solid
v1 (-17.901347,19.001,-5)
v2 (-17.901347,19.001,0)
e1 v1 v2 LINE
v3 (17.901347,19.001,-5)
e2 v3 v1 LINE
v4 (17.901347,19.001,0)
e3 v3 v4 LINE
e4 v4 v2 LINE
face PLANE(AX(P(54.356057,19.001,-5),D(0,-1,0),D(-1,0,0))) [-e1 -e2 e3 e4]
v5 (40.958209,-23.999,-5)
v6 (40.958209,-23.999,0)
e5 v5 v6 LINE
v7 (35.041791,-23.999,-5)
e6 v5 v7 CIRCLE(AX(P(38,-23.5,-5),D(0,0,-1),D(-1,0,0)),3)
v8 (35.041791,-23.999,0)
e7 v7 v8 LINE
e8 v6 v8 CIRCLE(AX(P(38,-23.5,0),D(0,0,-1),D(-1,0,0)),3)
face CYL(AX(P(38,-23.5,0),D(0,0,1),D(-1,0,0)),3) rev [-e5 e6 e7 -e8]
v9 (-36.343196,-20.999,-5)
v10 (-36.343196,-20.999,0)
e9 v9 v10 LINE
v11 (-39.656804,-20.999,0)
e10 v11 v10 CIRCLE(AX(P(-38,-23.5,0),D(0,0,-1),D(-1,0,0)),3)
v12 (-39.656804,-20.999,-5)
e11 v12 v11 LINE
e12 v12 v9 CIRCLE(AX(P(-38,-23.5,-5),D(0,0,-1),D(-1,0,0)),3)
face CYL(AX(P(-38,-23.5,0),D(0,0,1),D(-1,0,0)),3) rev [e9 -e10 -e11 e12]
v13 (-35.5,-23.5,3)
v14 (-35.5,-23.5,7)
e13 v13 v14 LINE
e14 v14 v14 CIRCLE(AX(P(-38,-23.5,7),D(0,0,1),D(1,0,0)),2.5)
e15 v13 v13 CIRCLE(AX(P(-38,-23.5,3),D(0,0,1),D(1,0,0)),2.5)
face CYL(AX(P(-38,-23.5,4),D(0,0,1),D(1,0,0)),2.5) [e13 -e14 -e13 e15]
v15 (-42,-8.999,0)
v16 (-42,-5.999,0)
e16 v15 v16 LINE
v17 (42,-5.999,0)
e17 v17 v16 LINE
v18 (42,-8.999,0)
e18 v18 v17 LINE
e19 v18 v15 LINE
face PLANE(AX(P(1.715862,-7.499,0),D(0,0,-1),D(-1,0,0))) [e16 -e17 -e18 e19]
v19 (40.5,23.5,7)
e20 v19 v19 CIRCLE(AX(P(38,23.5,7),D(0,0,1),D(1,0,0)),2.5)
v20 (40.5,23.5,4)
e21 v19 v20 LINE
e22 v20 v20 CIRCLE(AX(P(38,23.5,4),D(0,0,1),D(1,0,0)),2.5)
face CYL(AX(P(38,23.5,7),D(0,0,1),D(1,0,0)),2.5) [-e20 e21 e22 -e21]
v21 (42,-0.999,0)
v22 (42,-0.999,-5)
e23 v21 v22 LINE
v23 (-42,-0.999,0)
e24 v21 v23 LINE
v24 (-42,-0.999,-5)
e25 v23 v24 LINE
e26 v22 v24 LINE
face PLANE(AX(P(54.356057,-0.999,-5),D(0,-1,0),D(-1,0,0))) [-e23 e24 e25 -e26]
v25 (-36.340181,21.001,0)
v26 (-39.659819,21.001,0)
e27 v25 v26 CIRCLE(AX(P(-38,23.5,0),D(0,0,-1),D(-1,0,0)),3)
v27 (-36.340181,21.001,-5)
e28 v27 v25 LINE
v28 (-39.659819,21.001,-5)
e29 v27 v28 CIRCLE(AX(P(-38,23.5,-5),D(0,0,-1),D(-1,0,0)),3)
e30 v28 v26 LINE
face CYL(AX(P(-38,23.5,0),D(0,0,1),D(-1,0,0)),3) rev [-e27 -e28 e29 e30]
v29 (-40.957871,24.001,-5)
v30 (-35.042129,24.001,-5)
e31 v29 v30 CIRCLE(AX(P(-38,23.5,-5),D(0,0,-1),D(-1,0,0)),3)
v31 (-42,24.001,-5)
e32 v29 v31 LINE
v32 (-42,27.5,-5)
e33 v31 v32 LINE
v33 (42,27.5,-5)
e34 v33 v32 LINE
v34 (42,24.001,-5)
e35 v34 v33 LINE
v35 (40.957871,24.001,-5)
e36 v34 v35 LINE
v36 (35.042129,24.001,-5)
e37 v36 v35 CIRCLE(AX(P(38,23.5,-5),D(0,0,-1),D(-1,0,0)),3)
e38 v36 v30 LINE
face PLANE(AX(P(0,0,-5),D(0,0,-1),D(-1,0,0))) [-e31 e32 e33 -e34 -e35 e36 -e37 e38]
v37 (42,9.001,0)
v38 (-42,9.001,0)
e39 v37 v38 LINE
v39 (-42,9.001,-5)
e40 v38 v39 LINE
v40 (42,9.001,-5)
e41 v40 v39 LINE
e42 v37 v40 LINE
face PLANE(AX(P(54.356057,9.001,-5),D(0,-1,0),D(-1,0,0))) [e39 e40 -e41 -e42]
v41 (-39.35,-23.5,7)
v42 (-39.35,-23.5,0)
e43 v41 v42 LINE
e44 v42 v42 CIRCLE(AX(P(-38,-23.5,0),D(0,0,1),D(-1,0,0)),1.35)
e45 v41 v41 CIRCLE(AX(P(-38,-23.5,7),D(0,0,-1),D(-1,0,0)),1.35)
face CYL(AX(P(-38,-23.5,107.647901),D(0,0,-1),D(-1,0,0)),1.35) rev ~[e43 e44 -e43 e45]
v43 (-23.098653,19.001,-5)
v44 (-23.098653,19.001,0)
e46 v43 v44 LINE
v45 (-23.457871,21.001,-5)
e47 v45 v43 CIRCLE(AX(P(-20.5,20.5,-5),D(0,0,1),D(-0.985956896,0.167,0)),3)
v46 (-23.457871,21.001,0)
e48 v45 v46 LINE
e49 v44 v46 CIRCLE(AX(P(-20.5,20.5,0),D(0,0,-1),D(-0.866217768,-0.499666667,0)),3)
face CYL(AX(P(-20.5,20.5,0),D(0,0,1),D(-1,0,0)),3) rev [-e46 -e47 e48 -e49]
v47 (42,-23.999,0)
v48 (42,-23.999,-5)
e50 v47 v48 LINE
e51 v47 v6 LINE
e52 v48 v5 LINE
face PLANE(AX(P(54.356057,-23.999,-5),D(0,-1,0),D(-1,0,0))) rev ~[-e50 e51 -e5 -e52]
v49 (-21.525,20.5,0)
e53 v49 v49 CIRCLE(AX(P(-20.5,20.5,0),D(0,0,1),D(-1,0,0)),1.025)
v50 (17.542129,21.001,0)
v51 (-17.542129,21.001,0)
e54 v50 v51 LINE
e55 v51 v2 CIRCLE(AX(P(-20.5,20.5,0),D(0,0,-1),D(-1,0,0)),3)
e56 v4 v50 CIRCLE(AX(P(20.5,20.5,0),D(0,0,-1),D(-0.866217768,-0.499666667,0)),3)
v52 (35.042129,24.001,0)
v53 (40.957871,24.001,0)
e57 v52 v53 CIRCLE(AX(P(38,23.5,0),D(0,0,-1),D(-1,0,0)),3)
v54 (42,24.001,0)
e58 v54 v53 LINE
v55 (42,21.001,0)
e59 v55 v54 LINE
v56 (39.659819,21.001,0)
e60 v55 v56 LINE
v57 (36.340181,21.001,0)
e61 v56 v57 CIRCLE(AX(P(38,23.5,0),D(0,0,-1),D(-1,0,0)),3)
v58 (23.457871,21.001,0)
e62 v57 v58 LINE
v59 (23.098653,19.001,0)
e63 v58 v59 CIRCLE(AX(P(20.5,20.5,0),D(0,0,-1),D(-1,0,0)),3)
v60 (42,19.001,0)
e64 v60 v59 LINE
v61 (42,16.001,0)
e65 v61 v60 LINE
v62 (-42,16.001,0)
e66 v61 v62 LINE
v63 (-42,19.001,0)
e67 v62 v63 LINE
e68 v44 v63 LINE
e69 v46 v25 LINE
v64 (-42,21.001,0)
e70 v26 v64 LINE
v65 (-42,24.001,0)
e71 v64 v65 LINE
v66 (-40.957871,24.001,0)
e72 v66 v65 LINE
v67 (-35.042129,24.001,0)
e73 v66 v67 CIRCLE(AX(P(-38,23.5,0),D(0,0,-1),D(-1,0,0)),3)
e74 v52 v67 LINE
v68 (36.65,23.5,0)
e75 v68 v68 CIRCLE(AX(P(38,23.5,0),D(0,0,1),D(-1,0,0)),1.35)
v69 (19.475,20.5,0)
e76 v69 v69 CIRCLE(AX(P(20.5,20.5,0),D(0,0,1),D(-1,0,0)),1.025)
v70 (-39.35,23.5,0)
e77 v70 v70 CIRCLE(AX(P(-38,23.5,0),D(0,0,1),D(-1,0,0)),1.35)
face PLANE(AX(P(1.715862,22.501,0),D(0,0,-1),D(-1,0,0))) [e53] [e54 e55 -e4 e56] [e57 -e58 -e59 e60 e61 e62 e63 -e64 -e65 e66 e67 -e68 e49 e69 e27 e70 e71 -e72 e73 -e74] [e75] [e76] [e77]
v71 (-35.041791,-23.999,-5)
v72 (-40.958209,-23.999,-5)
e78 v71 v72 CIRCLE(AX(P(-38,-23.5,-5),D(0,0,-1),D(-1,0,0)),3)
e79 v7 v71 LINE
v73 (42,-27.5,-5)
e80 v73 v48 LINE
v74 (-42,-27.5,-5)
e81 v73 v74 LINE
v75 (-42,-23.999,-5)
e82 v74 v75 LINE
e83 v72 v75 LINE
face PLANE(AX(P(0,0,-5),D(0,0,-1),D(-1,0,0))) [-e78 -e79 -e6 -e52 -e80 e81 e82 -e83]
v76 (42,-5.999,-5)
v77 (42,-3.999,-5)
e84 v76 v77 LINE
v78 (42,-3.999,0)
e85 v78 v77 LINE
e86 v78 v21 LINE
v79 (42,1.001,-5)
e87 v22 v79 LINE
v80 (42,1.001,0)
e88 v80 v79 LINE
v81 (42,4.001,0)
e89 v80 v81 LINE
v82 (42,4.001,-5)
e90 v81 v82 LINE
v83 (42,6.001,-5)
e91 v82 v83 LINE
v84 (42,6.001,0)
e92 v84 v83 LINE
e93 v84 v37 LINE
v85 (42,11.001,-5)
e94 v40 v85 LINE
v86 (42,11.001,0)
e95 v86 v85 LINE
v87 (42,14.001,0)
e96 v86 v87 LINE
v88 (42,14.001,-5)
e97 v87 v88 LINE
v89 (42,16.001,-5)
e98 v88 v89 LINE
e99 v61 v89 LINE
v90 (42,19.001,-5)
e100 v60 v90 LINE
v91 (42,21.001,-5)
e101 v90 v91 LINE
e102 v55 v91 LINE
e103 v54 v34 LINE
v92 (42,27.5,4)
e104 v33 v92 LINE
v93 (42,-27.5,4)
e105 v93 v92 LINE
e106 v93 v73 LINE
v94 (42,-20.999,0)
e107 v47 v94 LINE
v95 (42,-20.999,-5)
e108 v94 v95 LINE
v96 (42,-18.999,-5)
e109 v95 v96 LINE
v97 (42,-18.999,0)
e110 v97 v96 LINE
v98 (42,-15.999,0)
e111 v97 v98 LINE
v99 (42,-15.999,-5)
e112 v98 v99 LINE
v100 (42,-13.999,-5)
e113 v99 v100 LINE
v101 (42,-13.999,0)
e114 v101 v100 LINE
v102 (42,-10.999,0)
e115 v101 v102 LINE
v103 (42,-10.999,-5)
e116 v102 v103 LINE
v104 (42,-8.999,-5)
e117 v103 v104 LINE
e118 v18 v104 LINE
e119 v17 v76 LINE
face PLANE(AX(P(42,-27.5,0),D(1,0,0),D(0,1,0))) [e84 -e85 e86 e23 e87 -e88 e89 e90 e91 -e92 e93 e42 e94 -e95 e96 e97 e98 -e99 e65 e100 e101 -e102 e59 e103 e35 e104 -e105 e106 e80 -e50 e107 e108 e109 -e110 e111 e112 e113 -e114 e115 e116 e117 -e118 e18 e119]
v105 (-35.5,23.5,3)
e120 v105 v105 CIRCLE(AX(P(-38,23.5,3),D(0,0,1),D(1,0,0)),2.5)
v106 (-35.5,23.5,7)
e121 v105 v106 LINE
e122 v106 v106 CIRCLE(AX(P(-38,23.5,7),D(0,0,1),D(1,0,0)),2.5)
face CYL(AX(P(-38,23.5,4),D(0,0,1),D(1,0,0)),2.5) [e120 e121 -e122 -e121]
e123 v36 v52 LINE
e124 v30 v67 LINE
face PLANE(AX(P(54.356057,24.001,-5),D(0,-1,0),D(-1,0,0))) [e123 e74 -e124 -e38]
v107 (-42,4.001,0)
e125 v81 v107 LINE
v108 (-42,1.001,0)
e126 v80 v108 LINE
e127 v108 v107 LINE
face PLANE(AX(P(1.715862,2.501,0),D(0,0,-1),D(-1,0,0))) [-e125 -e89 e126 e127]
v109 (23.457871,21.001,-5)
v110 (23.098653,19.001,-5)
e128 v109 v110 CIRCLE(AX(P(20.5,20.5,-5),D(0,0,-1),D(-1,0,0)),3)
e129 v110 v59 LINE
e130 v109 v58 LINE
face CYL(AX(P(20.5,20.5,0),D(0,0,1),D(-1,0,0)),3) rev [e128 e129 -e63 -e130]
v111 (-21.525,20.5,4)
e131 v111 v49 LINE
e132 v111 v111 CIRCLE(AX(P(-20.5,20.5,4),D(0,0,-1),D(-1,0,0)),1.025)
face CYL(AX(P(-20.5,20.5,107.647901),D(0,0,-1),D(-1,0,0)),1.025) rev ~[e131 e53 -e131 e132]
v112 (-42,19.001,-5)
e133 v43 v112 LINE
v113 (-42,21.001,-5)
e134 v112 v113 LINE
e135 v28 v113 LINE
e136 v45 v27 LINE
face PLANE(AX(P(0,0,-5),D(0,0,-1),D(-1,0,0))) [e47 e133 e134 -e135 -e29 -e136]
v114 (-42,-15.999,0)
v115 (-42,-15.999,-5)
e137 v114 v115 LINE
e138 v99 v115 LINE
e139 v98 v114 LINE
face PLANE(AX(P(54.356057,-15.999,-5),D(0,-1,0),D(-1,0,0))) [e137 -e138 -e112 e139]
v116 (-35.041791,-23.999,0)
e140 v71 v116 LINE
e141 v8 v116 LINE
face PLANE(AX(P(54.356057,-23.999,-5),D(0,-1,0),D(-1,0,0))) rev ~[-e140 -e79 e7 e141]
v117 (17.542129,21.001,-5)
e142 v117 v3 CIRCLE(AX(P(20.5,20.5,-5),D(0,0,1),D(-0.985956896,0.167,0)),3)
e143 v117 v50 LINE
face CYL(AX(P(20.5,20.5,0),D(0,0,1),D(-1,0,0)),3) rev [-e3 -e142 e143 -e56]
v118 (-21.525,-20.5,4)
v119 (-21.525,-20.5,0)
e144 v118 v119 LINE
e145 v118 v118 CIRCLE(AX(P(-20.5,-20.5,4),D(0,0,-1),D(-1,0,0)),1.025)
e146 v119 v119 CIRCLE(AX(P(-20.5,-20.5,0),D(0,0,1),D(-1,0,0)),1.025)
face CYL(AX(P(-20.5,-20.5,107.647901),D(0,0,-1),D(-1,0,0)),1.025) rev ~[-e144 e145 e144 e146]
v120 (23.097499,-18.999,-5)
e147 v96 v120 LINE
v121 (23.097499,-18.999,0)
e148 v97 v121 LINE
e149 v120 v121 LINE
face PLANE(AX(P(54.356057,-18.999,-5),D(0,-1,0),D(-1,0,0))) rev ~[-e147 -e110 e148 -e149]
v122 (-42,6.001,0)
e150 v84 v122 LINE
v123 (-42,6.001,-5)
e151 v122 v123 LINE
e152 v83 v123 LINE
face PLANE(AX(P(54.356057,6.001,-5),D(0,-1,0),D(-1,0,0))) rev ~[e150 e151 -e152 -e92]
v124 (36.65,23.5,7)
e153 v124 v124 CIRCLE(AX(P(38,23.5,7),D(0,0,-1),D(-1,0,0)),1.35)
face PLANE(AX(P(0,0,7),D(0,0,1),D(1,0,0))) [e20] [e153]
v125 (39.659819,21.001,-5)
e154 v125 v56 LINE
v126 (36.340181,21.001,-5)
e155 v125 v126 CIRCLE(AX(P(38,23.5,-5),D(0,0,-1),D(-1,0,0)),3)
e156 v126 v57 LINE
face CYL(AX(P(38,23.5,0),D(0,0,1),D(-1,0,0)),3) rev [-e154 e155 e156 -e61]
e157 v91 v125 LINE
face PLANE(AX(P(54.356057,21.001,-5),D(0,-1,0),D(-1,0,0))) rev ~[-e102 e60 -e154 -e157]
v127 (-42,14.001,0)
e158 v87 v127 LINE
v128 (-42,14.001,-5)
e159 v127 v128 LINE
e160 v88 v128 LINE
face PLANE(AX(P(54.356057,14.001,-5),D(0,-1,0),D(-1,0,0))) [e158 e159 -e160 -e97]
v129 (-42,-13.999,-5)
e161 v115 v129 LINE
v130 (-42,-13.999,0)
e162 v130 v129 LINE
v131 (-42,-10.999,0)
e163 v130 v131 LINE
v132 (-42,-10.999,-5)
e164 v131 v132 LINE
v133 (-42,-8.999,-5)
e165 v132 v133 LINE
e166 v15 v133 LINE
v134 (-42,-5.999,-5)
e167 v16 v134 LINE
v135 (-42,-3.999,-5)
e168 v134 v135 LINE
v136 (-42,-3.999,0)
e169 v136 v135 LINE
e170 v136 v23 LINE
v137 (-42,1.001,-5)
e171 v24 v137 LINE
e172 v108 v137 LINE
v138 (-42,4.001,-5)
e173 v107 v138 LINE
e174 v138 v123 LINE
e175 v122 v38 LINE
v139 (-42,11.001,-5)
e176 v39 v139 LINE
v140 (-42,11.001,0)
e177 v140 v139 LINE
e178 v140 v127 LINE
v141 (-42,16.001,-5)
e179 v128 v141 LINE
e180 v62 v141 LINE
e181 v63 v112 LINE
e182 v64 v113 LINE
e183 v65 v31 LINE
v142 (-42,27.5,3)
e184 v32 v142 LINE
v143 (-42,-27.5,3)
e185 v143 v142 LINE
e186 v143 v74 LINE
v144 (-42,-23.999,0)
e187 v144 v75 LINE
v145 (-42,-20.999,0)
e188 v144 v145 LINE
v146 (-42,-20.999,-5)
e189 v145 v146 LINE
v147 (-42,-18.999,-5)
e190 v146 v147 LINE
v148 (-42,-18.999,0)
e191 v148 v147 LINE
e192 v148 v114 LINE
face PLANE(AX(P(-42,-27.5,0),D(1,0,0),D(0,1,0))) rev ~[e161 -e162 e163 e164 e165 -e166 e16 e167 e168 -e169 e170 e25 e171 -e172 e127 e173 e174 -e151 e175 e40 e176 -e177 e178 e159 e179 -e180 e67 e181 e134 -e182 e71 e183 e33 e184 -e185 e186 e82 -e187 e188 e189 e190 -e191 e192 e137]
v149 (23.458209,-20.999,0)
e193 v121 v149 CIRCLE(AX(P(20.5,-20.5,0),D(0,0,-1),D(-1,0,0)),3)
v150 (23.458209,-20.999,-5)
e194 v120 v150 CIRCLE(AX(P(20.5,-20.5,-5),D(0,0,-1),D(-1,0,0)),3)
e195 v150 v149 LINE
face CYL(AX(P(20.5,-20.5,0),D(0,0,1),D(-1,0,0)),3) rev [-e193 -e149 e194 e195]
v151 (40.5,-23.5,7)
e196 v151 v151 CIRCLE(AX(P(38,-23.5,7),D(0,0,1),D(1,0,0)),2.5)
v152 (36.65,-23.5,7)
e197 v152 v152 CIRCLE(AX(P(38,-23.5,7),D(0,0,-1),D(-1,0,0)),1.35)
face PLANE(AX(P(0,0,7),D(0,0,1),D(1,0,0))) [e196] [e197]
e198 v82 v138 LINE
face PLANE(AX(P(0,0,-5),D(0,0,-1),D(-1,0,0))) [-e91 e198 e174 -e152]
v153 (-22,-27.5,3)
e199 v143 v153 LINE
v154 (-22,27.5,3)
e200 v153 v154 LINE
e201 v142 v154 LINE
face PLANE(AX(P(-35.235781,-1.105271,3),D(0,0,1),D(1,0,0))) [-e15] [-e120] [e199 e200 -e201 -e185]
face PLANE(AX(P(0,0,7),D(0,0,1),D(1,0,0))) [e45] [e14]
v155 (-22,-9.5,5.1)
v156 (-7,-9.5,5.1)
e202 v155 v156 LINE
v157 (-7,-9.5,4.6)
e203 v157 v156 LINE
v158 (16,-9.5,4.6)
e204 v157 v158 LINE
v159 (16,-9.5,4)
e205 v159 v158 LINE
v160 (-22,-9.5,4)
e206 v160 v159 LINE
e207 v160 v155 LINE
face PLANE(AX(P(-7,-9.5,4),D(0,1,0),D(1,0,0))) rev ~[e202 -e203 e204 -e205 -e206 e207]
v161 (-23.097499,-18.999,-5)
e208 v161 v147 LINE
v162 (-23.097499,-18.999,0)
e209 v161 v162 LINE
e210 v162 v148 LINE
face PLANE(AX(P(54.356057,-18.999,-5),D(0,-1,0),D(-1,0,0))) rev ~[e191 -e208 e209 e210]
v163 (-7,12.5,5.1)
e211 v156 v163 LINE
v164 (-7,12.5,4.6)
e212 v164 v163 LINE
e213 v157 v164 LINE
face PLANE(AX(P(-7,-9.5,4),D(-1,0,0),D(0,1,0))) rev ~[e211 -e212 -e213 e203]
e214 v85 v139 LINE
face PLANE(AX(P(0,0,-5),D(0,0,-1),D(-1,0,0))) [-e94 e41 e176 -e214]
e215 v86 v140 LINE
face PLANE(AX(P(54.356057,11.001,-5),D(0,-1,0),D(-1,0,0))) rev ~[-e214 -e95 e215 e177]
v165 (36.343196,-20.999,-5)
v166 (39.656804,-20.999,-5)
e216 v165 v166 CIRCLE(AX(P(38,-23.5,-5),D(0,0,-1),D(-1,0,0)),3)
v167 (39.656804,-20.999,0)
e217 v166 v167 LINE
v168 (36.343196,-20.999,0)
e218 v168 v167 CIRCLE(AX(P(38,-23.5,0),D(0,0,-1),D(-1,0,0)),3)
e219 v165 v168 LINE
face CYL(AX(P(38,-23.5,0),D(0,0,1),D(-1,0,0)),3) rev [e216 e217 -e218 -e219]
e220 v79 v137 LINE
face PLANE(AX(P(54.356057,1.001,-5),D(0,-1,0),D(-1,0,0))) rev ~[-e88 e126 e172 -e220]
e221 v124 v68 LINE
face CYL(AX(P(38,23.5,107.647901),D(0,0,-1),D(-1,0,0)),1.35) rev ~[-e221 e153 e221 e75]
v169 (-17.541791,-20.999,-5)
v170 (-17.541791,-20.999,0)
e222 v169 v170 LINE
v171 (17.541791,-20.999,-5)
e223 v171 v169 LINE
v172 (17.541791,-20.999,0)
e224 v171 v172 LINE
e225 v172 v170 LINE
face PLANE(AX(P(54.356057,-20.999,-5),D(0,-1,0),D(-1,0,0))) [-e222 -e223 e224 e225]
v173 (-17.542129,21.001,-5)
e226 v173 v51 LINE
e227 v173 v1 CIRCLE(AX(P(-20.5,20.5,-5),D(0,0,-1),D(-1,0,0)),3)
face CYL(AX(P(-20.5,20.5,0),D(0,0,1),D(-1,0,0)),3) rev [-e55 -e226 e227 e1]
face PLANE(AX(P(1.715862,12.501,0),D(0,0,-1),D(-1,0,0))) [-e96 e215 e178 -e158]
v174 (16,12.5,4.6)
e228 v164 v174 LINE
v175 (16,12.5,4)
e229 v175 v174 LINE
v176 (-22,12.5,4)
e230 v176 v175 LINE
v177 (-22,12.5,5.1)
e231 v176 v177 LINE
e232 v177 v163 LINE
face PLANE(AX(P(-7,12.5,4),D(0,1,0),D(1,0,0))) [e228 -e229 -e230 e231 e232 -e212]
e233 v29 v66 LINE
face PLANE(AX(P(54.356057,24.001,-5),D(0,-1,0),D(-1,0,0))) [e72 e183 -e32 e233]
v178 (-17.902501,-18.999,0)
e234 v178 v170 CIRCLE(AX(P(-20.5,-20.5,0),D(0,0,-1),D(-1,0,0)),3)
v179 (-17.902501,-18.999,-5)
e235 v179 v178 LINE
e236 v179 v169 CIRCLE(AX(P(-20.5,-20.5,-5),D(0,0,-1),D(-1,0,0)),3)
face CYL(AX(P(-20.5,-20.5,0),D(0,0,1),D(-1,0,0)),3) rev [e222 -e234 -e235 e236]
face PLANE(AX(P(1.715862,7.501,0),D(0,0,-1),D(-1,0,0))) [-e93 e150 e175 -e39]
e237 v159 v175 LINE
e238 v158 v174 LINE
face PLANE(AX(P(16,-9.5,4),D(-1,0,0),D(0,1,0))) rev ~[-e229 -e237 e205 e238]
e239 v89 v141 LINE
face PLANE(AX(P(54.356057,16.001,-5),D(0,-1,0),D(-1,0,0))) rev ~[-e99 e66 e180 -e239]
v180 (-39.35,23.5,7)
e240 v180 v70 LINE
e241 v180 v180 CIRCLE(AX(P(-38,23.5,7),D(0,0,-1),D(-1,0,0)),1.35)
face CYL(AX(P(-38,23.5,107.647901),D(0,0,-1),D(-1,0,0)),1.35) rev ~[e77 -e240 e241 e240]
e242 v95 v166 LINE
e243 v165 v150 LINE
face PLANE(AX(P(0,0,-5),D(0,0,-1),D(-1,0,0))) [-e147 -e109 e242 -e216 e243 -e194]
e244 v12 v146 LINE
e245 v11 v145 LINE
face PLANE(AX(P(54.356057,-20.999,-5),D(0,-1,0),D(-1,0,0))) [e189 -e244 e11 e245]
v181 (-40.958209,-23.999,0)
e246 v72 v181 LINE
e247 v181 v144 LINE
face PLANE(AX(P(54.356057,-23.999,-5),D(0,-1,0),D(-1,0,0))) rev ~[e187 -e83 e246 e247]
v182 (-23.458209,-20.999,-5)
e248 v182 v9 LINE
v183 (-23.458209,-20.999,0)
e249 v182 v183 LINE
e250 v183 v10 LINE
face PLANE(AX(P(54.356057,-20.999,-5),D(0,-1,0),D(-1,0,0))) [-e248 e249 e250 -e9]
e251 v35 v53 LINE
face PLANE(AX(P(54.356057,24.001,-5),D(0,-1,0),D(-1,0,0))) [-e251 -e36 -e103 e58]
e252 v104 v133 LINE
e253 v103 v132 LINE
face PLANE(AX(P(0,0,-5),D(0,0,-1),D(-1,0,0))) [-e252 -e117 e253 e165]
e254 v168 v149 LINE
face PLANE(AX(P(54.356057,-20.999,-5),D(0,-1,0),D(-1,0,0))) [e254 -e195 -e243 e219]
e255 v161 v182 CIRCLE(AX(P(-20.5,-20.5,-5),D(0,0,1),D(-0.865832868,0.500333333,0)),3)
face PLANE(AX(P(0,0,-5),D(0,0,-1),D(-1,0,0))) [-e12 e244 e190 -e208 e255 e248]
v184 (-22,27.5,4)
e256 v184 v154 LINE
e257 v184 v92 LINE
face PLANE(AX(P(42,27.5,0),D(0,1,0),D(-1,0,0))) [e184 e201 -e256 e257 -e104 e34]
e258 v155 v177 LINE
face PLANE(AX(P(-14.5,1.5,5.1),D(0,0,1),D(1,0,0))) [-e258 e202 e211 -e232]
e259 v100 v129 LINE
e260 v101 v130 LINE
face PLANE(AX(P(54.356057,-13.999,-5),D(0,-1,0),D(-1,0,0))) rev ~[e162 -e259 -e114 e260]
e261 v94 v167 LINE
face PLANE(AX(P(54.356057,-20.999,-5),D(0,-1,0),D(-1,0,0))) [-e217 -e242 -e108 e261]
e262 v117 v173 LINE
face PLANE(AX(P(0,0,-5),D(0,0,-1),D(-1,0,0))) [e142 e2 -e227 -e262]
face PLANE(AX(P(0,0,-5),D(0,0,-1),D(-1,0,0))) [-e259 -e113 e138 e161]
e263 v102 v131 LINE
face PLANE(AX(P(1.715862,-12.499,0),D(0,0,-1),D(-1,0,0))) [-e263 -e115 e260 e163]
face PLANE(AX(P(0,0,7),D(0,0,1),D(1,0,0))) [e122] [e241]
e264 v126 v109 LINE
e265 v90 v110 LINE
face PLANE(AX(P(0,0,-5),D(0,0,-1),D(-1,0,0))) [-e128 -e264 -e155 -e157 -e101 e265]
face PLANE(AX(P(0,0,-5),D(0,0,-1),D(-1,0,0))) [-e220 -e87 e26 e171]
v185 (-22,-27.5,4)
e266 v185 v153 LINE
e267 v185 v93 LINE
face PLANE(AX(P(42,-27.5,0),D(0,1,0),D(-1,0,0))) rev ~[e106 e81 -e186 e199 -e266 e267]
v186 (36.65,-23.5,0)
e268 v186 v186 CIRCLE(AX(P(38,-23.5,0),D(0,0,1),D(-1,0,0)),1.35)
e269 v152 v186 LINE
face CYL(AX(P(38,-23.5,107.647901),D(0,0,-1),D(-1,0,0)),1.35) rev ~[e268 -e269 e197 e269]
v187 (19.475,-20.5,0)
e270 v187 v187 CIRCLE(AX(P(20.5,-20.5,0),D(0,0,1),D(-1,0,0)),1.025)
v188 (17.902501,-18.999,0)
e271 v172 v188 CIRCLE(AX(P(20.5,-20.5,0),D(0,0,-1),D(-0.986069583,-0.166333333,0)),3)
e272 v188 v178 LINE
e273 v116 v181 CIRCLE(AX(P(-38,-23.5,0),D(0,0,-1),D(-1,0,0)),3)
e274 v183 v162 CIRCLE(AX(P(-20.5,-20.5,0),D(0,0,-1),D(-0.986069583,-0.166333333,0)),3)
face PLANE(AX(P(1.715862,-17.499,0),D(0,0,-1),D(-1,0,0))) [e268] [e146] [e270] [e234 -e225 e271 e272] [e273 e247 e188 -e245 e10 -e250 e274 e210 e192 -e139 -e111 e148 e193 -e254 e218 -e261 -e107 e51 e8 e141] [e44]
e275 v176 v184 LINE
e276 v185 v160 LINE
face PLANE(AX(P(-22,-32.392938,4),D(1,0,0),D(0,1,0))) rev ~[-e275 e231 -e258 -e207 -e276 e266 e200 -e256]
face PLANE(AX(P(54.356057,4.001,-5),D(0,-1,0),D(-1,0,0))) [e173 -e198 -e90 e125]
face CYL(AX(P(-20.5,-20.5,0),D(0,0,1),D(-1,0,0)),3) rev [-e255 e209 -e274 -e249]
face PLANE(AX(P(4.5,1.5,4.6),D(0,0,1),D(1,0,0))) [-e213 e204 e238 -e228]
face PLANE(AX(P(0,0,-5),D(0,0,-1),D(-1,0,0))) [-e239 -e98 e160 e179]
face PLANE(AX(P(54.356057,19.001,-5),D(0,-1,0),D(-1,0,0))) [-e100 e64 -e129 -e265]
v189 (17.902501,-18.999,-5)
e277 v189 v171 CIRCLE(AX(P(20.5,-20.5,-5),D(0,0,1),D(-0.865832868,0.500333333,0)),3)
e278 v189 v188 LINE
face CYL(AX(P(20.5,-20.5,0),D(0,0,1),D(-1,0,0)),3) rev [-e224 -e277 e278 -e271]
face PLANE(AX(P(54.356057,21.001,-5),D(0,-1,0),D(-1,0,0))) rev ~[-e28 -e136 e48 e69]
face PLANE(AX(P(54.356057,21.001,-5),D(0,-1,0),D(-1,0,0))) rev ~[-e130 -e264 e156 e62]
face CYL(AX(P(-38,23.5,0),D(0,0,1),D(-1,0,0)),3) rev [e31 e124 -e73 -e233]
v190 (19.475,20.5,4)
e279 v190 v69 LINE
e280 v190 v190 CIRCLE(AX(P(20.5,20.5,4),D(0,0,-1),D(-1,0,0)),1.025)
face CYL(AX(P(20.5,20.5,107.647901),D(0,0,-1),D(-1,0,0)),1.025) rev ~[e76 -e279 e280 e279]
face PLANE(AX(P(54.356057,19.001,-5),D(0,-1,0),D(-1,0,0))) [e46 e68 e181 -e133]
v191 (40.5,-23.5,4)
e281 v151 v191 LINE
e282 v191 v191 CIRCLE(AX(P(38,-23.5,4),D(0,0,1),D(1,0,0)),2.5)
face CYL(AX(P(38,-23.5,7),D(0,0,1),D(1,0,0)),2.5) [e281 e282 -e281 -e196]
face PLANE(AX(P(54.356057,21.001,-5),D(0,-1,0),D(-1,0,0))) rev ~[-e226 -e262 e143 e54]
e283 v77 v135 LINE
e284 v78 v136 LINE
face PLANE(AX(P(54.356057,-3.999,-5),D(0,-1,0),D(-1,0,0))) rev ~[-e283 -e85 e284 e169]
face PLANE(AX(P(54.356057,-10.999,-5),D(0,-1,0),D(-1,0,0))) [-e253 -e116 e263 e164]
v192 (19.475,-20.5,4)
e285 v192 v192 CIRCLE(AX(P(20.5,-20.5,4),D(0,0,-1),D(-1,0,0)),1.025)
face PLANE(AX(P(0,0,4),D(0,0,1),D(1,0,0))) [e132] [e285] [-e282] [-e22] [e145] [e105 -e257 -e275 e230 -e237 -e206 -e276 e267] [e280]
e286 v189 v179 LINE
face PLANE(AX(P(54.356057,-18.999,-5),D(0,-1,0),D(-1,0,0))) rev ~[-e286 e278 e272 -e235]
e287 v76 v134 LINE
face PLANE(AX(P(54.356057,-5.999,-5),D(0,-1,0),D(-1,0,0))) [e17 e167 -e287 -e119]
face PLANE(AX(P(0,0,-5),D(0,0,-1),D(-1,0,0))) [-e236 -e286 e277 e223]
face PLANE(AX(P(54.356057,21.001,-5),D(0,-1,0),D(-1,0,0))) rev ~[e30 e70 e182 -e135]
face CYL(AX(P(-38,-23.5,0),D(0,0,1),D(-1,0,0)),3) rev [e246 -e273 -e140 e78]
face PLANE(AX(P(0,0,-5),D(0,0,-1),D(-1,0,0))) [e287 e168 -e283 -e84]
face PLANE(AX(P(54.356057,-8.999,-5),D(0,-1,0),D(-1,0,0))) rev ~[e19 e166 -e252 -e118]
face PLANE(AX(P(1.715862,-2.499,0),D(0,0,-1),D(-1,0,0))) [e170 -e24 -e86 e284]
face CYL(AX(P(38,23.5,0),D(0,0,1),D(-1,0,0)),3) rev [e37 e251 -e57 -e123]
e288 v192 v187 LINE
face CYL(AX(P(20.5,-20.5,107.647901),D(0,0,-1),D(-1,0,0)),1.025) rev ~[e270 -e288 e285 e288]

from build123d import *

# Parameters (mm, degrees)
SKETCH1_W                  = 84
SKETCH1_H                  = 55
EXTRUDE1_DEPTH             = 7
F_2_7_2_7_DIAMETER_HOLE1_D = 2.7
SKETCH6_OUTSIDE_W          = 106.13
SKETCH6_OUTSIDE_H          = 77.13
SKETCH6_OUTSIDE_R          = 2.5
EXTRUDE2_DEPTH             = 3
SKETCH7_W                  = 15
SKETCH7_H                  = 22
EXTRUDE3_DEPTH             = 1.1
SKETCH8_W                  = 26.471562954
SKETCH8_H                  = 62.575334395
SKETCH8_R                  = 2.5
EXTRUDE6_DEPTH             = 1
SKETCH9_W                  = 23
SKETCH9_H                  = 22
EXTRUDE7_DEPTH             = 0.6
M2_5X0_45_TAPPED_HOLE1_D   = 2.05
SKETCH14_W                 = 84
SKETCH14_H                 = 55
SKETCH14_R                 = 3
EXTRUDE12_DEPTH            = 5
SKETCH16_W                 = 105.280390668
SKETCH16_H                 = 3
EXTRUDE13_DEPTH            = 5


with BuildPart() as part:
    # Sketch1 → Extrude1 (new body)
    with BuildSketch(Plane.XY):
        Rectangle(SKETCH1_W, SKETCH1_H)
    extrude(amount=EXTRUDE1_DEPTH)

    # Ø2.7 (2.7) Diameter Hole1 (through all)
    with Locations(Plane.XY.offset(7)):
        with Locations((-38, 23.5), (38, 23.5), (38, -23.5), (-38, -23.5)):
            Hole(F_2_7_2_7_DIAMETER_HOLE1_D / 2)

    # Sketch6 outside → Extrude2 (cut)
    with BuildSketch(Plane.XY.offset(7)):
        Rectangle(SKETCH6_OUTSIDE_W, SKETCH6_OUTSIDE_H)
        with Locations((-38, 23.5)):
            Circle(SKETCH6_OUTSIDE_R, mode=Mode.SUBTRACT)
        with Locations((-38, -23.5)):
            Circle(SKETCH6_OUTSIDE_R, mode=Mode.SUBTRACT)
        with Locations((38, 23.5)):
            Circle(SKETCH6_OUTSIDE_R, mode=Mode.SUBTRACT)
        with Locations((38, -23.5)):
            Circle(SKETCH6_OUTSIDE_R, mode=Mode.SUBTRACT)
    extrude(amount=-EXTRUDE2_DEPTH, mode=Mode.SUBTRACT)

    # Sketch7 → Extrude3 (add)
    with BuildSketch(Plane.XY.offset(4)):
        with Locations((-14.5, 1.5)):
            Rectangle(SKETCH7_W, SKETCH7_H)
    extrude(amount=EXTRUDE3_DEPTH)

    # Sketch8 → Extrude6 (cut)
    with BuildSketch(Plane.XY.offset(4)):
        with Locations((-35.235781477, -1.105270853)):
            Rectangle(SKETCH8_W, SKETCH8_H)
        with Locations((-38, -23.5)):
            Circle(SKETCH8_R, mode=Mode.SUBTRACT)
        with Locations((-38, 23.5)):
            Circle(SKETCH8_R, mode=Mode.SUBTRACT)
    extrude(amount=-EXTRUDE6_DEPTH, mode=Mode.SUBTRACT)

    # Sketch9 → Extrude7 (add)
    with BuildSketch(Plane.XY.offset(4)):
        with Locations((4.5, 1.5)):
            Rectangle(SKETCH9_W, SKETCH9_H)
    extrude(amount=EXTRUDE7_DEPTH)

    # M2.5x0.45 Tapped Hole1 (through all)
    with Locations(Plane.XY.offset(7)):
        with Locations((-20.5, 20.5), (20.5, 20.5), (20.5, -20.5), (-20.5, -20.5)):
            Hole(M2_5X0_45_TAPPED_HOLE1_D / 2)

    # Sketch14 → Extrude12 (add)
    with BuildSketch(Plane(origin=(0, 0, 0), x_dir=(-1, 0, 0), z_dir=(0, 0, -1))):
        Rectangle(SKETCH14_W, SKETCH14_H)
        with Locations((-38, 23.5)):
            Circle(SKETCH14_R, mode=Mode.SUBTRACT)
        with Locations((-20.5, 20.5)):
            Circle(SKETCH14_R, mode=Mode.SUBTRACT)
        with Locations((20.5, 20.5)):
            Circle(SKETCH14_R, mode=Mode.SUBTRACT)
        with Locations((38, 23.5)):
            Circle(SKETCH14_R, mode=Mode.SUBTRACT)
        with Locations((-38, -23.5)):
            Circle(SKETCH14_R, mode=Mode.SUBTRACT)
        with Locations((-20.5, -20.5)):
            Circle(SKETCH14_R, mode=Mode.SUBTRACT)
        with Locations((20.5, -20.5)):
            Circle(SKETCH14_R, mode=Mode.SUBTRACT)
        with Locations((38, -23.5)):
            Circle(SKETCH14_R, mode=Mode.SUBTRACT)
    extrude(amount=EXTRUDE12_DEPTH)

    # Sketch16 → Extrude13 (cut)
    with BuildSketch(Plane(origin=(0, 0, -5), x_dir=(-1, 0, 0), z_dir=(0, 0, -1))):
        with Locations((-1.715862013, -22.499)):
            Rectangle(SKETCH16_W, SKETCH16_H)
        with Locations((-1.715862013, -17.499)):
            Rectangle(SKETCH16_W, SKETCH16_H)
        with Locations((-1.715862013, -12.499)):
            Rectangle(SKETCH16_W, SKETCH16_H)
        with Locations((-1.715862013, -7.499)):
            Rectangle(SKETCH16_W, SKETCH16_H)
        with Locations((-1.715862013, -2.499)):
            Rectangle(SKETCH16_W, SKETCH16_H)
        with Locations((-1.715862013, 2.501)):
            Rectangle(SKETCH16_W, SKETCH16_H)
        with Locations((-1.715862013, 7.501)):
            Rectangle(SKETCH16_W, SKETCH16_H)
        with Locations((-1.715862013, 12.501)):
            Rectangle(SKETCH16_W, SKETCH16_H)
        with Locations((-1.715862013, 17.501)):
            Rectangle(SKETCH16_W, SKETCH16_H)
        with Locations((-1.715862013, 22.501)):
            Rectangle(SKETCH16_W, SKETCH16_H)
    extrude(amount=-EXTRUDE13_DEPTH, mode=Mode.SUBTRACT)


solid = part.part
